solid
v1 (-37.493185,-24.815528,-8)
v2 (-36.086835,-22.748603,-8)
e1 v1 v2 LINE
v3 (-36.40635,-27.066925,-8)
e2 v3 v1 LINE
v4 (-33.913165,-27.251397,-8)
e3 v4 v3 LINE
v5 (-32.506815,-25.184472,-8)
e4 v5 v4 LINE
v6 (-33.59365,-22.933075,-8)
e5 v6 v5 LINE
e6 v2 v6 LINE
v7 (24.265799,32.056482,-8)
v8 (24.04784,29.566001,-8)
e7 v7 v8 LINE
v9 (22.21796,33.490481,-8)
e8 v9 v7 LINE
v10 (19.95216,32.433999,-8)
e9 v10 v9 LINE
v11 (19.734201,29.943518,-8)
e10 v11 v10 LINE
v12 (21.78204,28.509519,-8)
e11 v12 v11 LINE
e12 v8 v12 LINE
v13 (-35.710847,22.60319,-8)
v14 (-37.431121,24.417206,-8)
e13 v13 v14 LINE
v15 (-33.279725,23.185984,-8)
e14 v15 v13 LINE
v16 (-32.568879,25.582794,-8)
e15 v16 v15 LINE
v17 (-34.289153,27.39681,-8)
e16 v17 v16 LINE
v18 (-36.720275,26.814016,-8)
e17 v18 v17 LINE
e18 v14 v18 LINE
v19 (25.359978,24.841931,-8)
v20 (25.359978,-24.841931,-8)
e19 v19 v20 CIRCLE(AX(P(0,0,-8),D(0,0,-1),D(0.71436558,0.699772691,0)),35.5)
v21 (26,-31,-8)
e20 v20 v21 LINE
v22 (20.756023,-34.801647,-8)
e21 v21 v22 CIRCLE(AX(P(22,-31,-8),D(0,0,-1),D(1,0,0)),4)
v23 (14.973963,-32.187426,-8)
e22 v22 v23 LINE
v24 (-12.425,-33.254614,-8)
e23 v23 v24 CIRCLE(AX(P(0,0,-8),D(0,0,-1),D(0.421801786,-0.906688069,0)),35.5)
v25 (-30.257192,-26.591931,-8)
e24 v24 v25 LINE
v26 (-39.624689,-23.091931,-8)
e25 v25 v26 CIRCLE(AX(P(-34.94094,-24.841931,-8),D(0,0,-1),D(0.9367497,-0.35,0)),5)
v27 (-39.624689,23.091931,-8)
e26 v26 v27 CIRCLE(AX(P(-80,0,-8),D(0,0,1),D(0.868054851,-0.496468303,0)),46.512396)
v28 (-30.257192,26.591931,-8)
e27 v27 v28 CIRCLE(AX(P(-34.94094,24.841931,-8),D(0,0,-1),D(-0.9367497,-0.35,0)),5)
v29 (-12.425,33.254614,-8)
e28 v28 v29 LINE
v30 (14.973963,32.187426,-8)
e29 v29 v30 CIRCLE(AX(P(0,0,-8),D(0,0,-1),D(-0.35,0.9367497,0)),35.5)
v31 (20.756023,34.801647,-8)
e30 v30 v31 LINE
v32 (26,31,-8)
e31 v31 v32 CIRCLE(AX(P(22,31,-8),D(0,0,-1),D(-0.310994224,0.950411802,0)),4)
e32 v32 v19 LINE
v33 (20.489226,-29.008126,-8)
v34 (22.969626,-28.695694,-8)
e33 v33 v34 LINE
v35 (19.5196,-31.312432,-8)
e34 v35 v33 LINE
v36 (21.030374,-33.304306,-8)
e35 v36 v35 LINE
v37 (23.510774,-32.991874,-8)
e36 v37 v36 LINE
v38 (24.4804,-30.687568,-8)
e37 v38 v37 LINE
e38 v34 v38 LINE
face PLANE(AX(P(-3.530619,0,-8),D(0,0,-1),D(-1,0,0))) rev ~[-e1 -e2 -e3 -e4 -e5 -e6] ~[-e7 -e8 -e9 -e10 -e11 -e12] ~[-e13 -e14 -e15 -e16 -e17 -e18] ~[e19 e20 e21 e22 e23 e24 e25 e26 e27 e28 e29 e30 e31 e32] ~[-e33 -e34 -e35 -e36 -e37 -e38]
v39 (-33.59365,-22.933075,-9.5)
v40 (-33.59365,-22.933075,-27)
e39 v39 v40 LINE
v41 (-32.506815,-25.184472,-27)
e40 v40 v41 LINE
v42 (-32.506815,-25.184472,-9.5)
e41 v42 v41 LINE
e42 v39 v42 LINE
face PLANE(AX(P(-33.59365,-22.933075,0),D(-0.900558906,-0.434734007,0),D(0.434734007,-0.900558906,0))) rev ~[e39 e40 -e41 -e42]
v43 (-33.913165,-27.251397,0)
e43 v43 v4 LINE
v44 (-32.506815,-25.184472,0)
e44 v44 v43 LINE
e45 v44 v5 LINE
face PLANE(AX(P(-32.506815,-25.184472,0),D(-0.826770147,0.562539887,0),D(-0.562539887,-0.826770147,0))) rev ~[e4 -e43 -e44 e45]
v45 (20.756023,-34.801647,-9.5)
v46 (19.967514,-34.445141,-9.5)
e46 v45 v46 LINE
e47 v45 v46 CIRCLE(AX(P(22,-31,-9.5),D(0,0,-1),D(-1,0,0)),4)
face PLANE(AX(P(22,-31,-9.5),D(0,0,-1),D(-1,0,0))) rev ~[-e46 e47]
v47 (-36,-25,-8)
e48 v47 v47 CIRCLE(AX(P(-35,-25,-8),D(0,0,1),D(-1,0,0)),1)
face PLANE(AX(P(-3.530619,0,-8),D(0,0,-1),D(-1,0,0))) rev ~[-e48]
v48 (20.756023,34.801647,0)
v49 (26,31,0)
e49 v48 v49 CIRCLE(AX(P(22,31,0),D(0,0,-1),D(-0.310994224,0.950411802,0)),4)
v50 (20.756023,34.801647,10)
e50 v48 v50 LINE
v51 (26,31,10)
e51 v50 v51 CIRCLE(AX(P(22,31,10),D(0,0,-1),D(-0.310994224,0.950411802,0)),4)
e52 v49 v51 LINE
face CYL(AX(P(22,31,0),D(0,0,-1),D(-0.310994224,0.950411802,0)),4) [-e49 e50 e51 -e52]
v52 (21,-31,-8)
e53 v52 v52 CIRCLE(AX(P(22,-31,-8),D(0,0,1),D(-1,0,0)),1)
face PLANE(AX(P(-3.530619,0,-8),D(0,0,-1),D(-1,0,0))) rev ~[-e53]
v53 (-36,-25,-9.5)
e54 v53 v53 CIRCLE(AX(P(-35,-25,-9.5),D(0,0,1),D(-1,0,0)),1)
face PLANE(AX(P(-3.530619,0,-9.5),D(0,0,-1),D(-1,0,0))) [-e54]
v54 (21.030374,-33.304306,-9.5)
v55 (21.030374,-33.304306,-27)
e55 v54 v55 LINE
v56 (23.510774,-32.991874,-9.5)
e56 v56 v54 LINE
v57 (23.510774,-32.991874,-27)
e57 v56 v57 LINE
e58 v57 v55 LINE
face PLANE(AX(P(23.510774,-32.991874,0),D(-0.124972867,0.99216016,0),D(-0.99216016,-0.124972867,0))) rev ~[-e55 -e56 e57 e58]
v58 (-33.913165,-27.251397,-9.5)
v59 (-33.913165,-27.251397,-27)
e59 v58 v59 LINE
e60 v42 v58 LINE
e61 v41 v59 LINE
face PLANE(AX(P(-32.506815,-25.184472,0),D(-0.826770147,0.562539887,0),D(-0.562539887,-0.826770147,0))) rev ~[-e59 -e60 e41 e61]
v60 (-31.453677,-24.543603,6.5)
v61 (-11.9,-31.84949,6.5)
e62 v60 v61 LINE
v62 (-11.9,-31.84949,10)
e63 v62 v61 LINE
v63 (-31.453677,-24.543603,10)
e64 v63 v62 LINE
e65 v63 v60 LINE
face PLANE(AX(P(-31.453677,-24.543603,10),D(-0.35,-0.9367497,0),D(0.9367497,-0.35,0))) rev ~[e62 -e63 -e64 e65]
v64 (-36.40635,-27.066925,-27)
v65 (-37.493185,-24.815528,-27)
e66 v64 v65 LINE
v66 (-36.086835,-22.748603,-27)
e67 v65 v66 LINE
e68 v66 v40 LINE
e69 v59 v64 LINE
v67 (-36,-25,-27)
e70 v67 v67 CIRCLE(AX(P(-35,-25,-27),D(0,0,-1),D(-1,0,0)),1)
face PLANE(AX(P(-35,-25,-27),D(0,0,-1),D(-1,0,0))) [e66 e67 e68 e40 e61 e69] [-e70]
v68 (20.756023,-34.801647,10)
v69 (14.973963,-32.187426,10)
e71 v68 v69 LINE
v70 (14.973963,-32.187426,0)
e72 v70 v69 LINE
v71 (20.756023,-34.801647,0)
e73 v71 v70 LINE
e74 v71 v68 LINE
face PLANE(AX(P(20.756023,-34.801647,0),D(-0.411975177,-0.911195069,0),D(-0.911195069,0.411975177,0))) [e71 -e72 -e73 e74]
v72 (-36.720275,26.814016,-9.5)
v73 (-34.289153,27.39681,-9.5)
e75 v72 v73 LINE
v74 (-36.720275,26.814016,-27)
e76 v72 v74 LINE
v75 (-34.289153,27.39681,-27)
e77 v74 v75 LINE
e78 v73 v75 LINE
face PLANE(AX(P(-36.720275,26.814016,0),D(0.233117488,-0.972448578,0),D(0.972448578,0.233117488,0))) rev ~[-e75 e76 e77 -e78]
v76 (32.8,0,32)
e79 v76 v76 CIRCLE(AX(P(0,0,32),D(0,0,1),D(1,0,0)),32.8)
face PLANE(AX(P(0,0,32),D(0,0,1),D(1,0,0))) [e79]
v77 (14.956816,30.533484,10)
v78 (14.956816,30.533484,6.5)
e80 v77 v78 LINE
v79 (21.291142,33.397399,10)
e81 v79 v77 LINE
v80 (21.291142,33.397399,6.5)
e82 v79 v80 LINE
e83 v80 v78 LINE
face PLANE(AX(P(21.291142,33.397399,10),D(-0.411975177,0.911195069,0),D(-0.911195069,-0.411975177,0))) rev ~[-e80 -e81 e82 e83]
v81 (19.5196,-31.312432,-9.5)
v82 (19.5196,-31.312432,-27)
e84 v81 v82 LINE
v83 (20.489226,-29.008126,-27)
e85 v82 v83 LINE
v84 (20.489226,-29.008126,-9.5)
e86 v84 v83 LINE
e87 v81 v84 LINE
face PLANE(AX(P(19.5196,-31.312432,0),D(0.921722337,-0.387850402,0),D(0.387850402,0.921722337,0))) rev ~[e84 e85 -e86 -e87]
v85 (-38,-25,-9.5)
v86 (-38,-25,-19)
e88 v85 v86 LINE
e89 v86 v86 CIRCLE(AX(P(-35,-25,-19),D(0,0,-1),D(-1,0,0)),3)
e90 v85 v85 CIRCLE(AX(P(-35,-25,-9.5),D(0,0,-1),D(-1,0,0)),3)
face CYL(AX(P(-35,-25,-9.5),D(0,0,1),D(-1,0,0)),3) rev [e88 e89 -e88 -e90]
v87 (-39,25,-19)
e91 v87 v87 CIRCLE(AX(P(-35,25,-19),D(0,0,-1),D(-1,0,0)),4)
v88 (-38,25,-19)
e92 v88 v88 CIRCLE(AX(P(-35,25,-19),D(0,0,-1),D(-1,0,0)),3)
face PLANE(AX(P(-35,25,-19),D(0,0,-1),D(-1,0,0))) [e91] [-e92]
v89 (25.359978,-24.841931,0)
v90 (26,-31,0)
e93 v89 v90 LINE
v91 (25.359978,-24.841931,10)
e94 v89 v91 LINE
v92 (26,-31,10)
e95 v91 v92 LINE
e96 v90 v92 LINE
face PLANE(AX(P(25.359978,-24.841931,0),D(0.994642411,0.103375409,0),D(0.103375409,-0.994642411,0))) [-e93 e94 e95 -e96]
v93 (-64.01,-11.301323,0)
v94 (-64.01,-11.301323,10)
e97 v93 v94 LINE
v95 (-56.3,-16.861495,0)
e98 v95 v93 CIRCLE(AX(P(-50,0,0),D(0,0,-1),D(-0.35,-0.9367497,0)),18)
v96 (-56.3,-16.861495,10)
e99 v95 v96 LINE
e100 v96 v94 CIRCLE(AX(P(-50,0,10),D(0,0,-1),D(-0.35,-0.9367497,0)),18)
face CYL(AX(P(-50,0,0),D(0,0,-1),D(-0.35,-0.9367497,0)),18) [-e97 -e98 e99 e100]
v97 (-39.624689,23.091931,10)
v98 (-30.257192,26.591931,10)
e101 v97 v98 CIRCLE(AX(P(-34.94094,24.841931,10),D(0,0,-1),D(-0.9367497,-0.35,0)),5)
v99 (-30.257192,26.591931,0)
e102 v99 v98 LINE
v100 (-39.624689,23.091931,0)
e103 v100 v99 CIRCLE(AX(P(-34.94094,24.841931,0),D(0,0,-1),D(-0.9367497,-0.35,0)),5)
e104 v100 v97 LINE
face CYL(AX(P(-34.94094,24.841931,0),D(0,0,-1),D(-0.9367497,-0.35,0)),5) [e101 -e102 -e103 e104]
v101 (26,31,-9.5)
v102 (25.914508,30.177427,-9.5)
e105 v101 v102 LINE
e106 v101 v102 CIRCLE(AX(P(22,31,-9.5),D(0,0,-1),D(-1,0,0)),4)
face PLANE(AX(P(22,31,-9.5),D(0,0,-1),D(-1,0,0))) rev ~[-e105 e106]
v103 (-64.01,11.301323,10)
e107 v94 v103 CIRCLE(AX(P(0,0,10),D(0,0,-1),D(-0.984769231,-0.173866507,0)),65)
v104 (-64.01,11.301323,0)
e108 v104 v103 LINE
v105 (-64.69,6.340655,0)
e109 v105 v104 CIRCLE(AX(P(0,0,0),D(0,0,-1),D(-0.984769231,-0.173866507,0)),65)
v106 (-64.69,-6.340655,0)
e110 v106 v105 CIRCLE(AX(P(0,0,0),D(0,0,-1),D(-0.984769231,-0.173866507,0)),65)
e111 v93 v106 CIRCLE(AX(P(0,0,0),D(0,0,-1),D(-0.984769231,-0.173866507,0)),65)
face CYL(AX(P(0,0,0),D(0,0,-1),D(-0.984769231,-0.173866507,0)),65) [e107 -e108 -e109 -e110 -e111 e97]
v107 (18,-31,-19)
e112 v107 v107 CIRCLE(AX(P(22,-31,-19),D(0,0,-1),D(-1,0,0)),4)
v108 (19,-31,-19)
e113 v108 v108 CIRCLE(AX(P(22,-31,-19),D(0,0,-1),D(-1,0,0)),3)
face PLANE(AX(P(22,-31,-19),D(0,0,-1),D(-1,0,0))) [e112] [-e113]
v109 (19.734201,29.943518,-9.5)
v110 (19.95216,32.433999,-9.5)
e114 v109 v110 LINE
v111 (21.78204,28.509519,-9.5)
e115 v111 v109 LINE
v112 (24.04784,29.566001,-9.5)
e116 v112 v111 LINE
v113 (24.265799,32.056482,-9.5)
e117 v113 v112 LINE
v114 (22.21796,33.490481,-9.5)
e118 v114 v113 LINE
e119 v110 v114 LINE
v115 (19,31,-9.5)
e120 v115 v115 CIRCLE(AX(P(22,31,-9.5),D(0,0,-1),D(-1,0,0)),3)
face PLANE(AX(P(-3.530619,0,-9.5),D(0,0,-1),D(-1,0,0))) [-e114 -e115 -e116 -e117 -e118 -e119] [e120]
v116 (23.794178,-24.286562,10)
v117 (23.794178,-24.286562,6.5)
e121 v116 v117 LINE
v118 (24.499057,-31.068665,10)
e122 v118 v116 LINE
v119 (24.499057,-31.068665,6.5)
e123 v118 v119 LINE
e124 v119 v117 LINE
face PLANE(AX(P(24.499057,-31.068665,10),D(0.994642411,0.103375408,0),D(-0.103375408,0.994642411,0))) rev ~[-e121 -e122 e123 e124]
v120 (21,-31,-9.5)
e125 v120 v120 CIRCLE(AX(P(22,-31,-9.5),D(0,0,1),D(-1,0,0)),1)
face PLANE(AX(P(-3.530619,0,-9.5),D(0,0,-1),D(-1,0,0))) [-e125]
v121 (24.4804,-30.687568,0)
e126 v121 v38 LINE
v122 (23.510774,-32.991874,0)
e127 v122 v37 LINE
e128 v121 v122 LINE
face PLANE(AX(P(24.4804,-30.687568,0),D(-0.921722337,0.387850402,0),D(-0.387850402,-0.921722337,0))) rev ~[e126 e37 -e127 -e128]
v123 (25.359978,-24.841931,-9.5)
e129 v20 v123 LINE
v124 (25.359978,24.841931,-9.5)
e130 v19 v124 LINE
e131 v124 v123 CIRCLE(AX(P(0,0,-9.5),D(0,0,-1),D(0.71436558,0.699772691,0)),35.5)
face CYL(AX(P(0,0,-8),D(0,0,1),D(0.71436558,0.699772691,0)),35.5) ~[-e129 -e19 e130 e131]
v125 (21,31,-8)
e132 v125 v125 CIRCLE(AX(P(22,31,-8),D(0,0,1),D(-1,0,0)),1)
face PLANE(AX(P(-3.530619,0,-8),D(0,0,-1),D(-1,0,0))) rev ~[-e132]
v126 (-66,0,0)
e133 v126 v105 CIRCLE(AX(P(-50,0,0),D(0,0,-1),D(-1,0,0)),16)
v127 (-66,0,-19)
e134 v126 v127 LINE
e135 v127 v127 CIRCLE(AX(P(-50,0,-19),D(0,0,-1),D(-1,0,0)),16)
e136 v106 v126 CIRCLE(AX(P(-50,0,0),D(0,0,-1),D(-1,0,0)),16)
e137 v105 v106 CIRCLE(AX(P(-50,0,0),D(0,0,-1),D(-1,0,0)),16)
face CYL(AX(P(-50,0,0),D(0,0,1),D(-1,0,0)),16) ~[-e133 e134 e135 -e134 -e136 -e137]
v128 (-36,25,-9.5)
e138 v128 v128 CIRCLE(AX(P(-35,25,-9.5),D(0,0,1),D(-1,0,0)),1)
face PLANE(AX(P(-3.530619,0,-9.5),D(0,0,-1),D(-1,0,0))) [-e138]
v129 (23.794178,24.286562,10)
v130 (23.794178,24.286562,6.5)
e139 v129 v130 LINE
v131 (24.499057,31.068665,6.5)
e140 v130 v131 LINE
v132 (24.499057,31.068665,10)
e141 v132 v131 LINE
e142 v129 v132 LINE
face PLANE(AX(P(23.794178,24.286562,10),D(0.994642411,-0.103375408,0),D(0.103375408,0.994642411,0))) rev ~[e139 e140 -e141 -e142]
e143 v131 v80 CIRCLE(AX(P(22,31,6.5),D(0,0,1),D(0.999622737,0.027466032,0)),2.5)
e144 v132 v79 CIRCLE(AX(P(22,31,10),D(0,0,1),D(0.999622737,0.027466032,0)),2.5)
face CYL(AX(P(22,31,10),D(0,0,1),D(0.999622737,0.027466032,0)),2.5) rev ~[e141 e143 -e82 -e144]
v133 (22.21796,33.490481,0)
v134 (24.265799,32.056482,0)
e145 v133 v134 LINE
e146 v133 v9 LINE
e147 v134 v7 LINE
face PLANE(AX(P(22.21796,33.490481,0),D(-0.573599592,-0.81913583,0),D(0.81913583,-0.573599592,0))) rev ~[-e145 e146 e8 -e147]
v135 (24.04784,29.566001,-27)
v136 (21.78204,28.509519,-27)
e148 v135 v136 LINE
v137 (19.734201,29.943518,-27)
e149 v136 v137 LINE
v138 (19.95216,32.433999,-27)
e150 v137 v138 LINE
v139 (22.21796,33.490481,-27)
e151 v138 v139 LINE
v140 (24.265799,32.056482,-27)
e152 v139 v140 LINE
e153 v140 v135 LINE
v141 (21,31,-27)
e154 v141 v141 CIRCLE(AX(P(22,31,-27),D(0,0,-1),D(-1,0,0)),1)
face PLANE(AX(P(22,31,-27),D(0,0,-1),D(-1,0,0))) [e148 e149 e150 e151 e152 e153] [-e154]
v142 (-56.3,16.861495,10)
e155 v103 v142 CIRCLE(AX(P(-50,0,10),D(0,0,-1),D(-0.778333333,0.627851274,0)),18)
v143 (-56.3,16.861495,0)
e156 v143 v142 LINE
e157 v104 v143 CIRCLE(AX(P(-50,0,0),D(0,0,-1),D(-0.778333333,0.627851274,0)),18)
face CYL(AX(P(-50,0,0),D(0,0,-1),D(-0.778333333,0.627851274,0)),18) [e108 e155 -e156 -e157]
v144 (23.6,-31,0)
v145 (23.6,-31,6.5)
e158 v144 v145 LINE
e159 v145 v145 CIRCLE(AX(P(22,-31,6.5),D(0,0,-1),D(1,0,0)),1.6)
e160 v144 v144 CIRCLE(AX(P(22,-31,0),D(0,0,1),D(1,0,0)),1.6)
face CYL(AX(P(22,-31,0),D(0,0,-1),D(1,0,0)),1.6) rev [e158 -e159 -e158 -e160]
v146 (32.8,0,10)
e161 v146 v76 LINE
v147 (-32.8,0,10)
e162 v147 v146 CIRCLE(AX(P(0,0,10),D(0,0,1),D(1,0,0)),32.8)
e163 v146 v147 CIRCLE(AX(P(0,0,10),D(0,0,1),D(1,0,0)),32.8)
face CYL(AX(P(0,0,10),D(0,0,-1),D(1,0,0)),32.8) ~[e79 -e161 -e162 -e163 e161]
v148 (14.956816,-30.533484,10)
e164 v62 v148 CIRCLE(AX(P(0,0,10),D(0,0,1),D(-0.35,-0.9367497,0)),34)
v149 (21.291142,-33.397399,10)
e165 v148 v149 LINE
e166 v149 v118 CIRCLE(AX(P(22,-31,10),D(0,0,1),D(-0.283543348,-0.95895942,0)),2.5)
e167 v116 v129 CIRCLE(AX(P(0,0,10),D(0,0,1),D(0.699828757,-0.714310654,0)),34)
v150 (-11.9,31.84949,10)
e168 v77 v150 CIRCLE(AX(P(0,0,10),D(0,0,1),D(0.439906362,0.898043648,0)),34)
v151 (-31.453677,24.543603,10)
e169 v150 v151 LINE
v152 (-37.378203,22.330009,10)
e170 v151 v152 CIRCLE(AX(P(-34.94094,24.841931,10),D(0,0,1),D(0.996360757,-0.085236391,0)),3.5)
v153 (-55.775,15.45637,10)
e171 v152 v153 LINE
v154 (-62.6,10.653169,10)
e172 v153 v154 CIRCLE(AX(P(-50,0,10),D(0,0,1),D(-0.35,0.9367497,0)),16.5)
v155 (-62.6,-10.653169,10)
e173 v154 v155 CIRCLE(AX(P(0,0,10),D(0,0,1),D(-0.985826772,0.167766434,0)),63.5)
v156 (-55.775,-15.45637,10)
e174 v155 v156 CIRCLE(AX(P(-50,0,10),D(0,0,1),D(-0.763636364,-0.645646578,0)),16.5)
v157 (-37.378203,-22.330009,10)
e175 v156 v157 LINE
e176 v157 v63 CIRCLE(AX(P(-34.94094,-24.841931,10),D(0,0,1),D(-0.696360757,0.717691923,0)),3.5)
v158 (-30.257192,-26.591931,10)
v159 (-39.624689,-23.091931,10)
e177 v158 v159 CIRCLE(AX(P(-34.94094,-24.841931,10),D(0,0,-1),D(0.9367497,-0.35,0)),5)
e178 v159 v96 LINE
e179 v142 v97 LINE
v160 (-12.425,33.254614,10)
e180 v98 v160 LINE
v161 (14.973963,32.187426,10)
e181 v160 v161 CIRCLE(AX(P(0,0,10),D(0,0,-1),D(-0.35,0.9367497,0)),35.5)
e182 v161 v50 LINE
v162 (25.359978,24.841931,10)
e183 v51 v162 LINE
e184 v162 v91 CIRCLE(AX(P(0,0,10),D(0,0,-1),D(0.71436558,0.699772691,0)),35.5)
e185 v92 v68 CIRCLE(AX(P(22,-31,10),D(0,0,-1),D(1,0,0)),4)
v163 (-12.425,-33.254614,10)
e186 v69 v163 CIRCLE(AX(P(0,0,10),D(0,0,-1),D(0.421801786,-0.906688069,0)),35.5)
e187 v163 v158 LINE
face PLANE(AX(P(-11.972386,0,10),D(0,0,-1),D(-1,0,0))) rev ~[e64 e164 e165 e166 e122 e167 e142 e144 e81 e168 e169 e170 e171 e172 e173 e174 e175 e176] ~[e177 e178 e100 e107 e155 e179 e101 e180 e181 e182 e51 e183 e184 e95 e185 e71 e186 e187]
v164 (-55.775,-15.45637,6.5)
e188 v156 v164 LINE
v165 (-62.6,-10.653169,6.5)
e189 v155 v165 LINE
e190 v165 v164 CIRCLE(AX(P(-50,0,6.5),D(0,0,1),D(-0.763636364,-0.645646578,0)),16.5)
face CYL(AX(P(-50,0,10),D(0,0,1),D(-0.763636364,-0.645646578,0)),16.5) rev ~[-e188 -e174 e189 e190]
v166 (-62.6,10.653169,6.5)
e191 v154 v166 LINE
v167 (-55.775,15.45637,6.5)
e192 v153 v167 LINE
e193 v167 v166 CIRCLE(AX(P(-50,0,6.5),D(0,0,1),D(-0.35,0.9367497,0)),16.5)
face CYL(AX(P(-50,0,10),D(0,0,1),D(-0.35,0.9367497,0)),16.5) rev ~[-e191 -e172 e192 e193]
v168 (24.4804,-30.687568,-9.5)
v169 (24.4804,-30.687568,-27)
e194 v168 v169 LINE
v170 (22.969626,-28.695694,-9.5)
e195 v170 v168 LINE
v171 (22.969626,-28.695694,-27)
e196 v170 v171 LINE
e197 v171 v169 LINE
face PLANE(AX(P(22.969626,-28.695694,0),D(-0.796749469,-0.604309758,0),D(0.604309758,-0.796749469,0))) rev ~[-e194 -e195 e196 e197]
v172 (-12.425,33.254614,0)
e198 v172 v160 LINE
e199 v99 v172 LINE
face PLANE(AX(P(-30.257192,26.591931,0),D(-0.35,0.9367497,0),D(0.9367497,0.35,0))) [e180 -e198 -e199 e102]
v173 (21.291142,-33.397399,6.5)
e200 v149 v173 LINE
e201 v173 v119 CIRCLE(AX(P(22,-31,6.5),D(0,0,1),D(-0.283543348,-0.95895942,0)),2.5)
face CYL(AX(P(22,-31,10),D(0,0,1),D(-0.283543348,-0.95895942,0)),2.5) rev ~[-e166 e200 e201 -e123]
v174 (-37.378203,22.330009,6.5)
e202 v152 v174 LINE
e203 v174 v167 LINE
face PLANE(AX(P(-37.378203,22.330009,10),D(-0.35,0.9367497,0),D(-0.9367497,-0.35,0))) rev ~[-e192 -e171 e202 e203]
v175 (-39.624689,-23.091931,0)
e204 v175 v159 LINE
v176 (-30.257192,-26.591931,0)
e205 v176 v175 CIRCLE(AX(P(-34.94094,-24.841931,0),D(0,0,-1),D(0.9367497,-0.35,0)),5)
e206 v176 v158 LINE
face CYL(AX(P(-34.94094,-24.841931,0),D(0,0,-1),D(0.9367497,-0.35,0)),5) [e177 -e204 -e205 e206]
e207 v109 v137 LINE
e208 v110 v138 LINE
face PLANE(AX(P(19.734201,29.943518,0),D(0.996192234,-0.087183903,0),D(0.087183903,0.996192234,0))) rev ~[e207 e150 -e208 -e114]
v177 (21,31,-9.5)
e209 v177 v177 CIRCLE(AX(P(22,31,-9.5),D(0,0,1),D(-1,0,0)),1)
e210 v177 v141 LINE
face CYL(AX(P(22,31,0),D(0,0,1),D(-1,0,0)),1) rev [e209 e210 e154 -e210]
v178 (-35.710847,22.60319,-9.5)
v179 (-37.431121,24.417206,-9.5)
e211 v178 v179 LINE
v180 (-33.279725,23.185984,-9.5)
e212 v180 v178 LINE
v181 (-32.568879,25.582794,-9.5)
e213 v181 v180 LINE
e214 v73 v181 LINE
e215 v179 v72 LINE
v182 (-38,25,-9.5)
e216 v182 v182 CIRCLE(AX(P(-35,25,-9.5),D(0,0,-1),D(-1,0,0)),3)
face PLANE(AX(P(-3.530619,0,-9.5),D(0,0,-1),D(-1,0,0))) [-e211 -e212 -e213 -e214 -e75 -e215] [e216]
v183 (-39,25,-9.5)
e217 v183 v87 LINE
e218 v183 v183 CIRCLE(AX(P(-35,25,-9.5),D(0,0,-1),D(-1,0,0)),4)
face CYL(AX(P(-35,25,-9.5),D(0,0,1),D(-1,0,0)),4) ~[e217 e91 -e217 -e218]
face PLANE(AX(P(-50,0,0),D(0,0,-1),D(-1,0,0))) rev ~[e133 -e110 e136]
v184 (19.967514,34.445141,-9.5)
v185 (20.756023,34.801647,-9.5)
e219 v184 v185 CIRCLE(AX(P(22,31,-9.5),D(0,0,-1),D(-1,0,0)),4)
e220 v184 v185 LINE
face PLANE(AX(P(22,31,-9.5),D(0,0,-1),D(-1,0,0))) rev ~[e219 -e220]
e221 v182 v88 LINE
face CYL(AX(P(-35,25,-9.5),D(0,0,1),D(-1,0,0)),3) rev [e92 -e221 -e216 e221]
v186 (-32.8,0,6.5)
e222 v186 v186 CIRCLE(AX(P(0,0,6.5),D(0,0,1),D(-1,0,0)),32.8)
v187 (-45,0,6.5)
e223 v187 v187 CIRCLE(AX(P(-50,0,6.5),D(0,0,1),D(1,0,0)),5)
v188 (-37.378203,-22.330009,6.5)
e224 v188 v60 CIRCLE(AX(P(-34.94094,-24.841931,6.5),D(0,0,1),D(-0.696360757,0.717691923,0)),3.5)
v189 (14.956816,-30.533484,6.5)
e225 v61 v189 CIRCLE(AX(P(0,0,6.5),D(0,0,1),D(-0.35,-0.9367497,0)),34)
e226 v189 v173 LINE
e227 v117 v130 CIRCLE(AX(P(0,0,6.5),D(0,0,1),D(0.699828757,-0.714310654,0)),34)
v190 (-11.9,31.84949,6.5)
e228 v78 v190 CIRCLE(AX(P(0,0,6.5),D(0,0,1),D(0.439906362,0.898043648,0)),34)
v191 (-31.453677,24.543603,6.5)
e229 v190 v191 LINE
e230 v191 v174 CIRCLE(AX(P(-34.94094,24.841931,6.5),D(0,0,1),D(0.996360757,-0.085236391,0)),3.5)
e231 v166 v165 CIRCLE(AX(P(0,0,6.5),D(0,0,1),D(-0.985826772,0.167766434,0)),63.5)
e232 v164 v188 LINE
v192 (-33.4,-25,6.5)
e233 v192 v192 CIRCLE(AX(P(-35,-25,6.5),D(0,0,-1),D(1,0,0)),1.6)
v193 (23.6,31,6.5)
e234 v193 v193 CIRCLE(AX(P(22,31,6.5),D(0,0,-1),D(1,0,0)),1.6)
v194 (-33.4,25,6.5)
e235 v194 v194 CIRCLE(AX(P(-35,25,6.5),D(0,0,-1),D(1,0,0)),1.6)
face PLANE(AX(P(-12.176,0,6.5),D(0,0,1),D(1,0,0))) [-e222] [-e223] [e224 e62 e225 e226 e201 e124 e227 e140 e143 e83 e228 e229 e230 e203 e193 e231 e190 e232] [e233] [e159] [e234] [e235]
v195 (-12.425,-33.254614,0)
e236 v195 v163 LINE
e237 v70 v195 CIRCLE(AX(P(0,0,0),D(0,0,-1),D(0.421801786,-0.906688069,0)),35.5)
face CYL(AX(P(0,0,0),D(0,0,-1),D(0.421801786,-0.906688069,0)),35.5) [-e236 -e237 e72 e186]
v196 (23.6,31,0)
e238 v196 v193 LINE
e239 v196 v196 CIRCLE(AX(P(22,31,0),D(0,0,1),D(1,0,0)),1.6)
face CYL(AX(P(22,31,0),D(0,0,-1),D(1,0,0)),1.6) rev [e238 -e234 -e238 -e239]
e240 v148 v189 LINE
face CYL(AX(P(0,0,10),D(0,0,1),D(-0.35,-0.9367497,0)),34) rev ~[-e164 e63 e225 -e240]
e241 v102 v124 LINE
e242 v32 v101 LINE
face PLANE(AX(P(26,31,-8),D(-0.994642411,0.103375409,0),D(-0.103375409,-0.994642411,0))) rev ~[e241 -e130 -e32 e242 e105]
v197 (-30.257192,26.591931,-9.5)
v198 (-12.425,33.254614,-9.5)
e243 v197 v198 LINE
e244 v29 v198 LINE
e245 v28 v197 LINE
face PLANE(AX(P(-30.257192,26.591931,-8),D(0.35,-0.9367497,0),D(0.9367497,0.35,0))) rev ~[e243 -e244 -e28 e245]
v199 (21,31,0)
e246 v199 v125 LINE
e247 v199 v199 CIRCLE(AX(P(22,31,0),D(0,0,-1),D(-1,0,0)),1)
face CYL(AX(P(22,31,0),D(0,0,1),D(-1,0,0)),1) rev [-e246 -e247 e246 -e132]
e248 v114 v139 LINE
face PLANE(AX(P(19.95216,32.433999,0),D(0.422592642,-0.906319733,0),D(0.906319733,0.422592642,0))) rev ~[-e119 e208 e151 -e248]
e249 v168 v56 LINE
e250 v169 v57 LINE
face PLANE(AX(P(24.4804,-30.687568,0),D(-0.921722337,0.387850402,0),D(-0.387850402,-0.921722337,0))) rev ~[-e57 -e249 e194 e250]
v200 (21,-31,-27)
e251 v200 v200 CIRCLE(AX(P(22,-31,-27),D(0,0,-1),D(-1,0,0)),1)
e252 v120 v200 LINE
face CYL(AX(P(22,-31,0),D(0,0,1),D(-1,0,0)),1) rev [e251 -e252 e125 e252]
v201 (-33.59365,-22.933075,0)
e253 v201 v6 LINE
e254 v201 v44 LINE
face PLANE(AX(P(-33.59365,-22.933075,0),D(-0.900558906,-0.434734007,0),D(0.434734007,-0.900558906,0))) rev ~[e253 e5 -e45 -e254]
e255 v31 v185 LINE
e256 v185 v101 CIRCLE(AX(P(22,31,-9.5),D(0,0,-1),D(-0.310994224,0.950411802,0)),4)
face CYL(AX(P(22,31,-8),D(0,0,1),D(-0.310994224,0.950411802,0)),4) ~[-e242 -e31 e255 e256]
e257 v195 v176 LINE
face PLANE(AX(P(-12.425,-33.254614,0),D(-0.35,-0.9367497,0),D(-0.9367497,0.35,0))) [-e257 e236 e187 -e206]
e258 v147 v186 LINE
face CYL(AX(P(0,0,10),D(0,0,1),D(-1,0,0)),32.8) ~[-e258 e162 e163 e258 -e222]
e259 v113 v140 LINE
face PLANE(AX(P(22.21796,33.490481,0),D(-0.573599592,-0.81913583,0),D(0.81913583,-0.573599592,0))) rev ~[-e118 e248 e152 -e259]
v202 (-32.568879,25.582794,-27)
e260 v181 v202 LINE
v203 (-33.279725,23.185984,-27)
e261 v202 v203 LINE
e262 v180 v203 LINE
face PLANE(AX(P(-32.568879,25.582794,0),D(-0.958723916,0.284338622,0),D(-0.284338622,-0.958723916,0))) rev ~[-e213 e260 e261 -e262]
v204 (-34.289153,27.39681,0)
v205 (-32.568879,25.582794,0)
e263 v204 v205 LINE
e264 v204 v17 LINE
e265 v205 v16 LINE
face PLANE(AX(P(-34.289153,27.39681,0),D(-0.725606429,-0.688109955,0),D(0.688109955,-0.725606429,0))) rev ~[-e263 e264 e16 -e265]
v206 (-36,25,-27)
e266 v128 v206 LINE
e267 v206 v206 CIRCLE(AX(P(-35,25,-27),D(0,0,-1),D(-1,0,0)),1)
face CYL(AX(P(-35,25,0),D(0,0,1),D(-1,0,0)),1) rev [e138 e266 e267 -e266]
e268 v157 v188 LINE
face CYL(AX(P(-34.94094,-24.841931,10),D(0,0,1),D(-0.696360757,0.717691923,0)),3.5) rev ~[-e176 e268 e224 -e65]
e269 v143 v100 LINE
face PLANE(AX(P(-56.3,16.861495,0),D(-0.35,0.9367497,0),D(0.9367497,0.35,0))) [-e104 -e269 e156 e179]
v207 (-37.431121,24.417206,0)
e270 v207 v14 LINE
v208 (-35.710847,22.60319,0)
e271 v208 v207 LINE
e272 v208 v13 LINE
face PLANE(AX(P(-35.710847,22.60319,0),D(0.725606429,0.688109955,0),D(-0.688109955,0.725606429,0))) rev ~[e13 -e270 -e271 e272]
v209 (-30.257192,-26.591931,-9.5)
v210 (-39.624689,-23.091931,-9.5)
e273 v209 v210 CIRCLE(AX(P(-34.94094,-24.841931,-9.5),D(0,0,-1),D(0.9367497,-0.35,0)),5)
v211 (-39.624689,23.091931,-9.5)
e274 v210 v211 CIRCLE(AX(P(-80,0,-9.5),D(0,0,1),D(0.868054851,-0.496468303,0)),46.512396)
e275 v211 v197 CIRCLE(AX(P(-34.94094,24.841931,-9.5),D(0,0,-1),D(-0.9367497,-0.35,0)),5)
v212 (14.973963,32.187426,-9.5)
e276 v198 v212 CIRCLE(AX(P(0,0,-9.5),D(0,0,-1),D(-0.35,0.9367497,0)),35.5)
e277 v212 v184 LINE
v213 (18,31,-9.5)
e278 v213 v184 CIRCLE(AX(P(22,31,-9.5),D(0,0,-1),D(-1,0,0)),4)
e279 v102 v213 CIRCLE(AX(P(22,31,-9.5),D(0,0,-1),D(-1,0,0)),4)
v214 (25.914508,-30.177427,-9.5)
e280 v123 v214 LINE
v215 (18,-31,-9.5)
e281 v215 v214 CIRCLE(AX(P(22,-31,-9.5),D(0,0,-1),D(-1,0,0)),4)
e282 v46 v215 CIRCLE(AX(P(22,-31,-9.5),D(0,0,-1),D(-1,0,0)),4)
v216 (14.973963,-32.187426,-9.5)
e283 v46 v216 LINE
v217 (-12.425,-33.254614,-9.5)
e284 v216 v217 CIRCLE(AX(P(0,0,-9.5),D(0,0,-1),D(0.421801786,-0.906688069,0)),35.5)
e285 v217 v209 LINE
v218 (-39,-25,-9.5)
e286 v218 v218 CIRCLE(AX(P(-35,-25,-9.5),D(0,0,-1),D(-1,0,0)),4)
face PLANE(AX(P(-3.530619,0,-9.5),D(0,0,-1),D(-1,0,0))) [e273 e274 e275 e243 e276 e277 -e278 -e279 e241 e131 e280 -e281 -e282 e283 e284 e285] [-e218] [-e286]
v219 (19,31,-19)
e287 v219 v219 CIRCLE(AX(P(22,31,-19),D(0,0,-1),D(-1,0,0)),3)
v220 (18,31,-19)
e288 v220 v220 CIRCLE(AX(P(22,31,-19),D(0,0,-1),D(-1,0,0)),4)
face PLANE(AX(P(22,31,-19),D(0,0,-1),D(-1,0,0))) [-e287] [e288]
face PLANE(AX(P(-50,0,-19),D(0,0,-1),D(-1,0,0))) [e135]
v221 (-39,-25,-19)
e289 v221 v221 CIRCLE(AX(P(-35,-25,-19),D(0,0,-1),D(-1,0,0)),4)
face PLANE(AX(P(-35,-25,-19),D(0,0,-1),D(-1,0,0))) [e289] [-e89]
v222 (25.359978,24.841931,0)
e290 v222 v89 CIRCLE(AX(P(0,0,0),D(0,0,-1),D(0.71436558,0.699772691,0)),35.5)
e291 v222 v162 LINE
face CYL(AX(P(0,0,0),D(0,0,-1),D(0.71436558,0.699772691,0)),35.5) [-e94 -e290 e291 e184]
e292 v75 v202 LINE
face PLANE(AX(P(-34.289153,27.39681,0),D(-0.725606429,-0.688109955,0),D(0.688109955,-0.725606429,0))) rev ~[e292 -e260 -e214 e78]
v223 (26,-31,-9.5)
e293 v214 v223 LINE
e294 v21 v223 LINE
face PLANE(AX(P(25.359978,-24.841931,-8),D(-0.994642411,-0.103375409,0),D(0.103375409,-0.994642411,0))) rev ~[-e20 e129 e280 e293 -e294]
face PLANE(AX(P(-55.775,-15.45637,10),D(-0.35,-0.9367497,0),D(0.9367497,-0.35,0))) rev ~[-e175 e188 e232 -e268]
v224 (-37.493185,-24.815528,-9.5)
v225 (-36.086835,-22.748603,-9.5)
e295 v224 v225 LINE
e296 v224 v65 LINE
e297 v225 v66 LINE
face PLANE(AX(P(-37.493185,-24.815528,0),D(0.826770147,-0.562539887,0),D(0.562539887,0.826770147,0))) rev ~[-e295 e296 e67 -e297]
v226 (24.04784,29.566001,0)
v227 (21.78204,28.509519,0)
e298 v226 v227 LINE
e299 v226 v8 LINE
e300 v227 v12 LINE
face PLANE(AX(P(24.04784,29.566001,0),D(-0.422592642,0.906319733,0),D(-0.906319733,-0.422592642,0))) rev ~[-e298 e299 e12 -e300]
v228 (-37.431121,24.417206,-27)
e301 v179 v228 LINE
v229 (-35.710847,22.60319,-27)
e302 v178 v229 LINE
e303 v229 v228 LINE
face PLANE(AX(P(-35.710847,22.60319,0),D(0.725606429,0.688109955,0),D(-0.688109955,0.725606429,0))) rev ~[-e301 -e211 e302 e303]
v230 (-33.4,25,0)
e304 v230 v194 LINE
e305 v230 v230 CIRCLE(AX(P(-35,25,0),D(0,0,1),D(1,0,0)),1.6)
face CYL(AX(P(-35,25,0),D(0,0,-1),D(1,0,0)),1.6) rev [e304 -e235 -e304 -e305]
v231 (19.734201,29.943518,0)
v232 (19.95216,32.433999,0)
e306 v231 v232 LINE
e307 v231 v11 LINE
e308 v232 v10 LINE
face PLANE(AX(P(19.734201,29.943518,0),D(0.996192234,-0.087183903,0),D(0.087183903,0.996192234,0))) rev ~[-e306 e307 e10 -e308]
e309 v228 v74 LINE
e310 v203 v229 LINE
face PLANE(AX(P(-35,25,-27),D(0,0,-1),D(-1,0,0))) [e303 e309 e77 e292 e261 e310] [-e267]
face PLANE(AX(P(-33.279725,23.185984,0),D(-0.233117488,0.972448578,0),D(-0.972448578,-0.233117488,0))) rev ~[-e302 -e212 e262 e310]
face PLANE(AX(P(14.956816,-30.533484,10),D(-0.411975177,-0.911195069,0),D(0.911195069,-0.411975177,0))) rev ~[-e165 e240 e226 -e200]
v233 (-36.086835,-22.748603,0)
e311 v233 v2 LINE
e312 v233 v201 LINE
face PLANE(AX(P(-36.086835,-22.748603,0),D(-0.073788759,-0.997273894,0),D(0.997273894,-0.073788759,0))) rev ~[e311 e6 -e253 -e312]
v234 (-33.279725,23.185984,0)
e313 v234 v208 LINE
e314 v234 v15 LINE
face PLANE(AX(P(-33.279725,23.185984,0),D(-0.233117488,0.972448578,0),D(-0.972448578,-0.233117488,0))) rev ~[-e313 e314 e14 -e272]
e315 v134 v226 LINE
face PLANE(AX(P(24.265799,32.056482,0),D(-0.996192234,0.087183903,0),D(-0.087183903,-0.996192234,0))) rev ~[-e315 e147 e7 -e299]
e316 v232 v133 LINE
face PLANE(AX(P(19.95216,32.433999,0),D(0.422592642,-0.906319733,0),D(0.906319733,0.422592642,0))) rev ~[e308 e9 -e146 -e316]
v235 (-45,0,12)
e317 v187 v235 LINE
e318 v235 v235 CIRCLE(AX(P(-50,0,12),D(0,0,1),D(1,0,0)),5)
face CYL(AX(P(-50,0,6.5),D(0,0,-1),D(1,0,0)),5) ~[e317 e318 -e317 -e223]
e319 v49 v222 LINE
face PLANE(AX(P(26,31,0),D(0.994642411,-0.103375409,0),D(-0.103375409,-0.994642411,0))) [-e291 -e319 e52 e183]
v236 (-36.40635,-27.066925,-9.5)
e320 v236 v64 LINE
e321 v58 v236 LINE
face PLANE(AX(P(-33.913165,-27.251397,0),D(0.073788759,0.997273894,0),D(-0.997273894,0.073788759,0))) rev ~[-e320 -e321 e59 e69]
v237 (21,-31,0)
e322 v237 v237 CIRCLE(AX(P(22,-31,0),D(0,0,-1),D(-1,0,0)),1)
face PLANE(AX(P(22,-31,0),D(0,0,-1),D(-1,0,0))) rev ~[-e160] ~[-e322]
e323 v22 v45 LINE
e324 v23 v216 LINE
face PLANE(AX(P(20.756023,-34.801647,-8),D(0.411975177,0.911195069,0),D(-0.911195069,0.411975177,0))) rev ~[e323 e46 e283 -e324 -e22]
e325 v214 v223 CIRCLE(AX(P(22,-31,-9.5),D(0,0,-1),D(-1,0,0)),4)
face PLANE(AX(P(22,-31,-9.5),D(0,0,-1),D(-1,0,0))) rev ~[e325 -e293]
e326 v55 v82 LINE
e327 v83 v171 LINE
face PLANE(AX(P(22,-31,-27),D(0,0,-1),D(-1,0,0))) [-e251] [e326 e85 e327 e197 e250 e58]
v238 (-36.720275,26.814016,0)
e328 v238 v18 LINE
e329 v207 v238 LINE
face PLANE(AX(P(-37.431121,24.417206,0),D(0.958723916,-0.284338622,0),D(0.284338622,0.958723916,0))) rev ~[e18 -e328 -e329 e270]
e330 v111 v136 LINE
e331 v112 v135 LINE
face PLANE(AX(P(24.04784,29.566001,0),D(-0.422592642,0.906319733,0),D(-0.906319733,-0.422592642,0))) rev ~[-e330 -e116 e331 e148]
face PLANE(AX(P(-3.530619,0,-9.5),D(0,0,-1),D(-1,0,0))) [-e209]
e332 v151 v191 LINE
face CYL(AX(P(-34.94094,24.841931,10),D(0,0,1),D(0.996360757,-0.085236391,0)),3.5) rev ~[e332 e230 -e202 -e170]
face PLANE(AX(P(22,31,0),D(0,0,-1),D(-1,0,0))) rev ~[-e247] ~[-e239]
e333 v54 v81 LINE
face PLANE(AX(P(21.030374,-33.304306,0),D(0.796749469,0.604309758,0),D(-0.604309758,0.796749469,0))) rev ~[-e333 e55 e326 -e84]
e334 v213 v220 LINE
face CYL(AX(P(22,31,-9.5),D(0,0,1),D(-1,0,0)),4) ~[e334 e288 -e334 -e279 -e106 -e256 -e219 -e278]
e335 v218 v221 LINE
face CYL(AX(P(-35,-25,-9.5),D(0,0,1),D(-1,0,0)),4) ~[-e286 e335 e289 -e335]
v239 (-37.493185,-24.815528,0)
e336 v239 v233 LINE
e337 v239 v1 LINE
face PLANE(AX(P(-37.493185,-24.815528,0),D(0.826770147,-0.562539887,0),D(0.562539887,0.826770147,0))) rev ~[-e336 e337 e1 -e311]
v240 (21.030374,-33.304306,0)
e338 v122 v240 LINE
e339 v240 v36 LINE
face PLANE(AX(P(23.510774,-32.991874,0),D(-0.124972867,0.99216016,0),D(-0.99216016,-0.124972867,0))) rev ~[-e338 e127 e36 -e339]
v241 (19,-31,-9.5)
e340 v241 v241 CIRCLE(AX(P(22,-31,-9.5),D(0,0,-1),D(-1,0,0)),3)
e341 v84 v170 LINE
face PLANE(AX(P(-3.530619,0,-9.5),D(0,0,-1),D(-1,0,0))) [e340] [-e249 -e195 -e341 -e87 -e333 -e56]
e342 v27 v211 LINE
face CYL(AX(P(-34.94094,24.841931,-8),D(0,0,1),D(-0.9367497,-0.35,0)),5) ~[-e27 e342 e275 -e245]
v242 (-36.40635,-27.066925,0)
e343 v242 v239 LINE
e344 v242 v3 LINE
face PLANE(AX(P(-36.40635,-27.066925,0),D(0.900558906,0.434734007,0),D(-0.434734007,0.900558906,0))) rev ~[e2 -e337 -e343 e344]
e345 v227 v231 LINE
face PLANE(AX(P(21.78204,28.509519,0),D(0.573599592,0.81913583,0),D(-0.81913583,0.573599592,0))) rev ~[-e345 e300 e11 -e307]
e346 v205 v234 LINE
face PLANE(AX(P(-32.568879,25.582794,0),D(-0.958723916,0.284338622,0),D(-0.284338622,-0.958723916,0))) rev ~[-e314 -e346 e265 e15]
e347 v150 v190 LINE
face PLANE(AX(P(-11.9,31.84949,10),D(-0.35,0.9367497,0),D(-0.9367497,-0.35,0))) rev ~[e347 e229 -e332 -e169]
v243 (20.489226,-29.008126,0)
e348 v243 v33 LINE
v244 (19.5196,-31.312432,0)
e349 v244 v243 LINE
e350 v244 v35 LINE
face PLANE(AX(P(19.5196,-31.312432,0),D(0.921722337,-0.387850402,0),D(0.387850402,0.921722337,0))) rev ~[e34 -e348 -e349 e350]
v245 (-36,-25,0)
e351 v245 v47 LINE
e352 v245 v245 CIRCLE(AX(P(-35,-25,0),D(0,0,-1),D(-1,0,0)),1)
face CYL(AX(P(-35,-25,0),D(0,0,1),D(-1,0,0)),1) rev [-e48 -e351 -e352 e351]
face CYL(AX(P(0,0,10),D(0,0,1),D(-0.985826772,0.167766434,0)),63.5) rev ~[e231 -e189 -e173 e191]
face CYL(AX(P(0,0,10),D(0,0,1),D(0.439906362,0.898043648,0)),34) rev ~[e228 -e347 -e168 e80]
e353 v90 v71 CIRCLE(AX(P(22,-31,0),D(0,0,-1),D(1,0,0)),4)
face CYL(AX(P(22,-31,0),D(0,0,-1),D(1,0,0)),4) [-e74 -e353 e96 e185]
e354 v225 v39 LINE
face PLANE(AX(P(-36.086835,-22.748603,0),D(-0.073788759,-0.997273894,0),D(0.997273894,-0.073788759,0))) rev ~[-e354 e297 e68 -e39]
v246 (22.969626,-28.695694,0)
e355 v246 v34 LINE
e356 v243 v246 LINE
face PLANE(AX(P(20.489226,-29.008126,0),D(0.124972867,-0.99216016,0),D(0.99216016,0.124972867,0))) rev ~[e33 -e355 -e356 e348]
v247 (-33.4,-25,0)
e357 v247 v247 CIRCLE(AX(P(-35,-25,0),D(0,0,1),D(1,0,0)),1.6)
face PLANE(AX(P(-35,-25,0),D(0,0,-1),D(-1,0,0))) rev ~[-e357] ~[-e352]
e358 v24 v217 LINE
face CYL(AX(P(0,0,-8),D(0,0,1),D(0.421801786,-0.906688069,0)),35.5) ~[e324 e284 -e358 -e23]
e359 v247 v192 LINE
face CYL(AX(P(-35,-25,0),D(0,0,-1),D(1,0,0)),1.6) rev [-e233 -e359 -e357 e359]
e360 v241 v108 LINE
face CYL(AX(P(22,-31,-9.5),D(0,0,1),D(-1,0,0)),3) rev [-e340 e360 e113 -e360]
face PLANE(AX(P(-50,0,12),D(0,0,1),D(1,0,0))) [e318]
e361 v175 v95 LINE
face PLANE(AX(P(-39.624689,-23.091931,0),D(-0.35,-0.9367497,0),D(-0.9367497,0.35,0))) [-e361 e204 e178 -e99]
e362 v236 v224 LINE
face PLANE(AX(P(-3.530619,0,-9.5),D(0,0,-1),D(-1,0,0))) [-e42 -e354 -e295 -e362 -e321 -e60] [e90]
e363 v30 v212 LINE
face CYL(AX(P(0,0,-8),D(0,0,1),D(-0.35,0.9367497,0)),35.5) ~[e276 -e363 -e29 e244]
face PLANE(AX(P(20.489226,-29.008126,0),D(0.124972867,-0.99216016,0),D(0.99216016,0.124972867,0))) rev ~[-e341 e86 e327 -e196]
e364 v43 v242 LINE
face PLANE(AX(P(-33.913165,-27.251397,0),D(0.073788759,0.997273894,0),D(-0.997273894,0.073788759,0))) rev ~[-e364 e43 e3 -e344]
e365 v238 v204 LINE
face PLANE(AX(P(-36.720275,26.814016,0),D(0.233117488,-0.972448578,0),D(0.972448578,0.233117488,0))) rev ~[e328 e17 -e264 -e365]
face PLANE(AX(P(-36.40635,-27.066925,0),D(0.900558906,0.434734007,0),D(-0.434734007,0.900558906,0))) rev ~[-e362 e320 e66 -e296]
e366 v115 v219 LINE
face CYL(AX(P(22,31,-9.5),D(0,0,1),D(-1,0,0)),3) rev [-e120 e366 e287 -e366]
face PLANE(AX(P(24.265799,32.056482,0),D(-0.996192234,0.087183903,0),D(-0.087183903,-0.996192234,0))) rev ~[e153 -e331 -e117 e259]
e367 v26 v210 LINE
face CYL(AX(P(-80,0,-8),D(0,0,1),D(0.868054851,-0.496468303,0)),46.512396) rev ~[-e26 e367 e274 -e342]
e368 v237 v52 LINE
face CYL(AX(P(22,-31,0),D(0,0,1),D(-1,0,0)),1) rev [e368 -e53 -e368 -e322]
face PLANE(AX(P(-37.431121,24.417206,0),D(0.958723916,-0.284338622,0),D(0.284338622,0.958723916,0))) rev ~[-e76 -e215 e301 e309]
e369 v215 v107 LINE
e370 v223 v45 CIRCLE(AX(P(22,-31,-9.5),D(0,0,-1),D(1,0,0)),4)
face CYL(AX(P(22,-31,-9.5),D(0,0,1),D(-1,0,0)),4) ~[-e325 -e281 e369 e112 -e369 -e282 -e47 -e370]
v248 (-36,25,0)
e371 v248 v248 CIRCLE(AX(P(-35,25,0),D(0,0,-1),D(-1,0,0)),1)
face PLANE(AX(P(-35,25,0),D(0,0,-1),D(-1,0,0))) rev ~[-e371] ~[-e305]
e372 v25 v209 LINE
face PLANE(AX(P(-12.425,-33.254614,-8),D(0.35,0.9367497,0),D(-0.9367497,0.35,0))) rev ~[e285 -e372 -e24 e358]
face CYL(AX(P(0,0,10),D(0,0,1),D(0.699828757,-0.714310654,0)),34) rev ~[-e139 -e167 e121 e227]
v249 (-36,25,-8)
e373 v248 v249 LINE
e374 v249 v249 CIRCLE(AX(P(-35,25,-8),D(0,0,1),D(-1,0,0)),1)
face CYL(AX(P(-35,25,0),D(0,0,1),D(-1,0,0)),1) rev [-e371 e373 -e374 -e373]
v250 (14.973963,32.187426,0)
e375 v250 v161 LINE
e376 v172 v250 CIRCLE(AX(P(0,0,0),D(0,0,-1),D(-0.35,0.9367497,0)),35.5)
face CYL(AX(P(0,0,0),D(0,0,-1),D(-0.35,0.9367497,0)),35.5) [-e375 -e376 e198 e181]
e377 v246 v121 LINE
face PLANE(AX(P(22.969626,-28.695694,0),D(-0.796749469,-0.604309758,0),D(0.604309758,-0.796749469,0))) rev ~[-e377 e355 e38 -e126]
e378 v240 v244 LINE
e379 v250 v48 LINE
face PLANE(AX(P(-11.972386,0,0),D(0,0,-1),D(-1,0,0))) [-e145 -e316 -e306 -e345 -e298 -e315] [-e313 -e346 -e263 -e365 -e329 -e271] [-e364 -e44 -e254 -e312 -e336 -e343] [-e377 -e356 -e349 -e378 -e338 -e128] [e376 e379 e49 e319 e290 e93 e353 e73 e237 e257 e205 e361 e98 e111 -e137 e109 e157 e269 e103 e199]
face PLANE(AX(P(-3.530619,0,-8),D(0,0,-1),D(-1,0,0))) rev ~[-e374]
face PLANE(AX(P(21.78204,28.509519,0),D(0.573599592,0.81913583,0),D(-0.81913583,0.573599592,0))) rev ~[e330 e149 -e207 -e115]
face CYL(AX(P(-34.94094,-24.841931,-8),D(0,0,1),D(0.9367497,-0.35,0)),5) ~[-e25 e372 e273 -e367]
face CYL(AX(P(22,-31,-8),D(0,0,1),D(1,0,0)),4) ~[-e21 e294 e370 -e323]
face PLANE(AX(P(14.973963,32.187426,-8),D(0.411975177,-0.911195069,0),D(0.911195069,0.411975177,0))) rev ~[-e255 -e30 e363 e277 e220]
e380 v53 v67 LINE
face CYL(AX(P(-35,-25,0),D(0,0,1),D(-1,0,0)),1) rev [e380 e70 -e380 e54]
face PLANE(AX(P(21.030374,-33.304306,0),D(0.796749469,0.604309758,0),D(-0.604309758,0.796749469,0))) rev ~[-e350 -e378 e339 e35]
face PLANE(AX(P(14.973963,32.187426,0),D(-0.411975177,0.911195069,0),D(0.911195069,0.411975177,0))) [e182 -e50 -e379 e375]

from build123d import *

# Parameters (mm, degrees)
ESQUISSE1_R             = 1.6
BOSS_EXTRU_1_DEPTH      = 10
ESQUISSE2_R             = 32.8
BOSS_EXTRU_2_DEPTH      = 22
ENL_V_MAT_EXTRU_1_DEPTH = 3.5
BOSS_EXTRU_3_REACH      = 12
ESQUISSE4_R             = 32.8
ESQUISSE5_R             = 16
BOSS_EXTRU_4_DEPTH      = 19
ESQUISSE6_R             = 1
BOSS_EXTRU_5_DEPTH      = 27
BOSS_EXTRU_6_DEPTH      = 1.5
ESQUISSE8_R             = 5
BOSS_EXTRU_7_DEPTH      = 5.5
SKETCH2_R               = 4
SKETCH2_R_2             = 3
BOSS_EXTRUDE1_DEPTH     = 9.5


with BuildPart() as part:
    # Esquisse1 → Boss.-Extru.1 (new body)
    with BuildSketch(Plane.XY):
        with BuildLine():
            ThreePointArc((-56.3, -16.861494596), (-60.528670487, -14.599558136), (-64.01, -11.301322931))
            ThreePointArc((-64.01, -11.301322931), (-65, 0), (-64.01, 11.301322931))
            ThreePointArc((-64.01, 11.301322931), (-60.528670487, 14.599558136), (-56.3, 16.861494596))
            Line((-56.3, 16.861494596), (-39.624688626, 23.091930519))
            ThreePointArc((-39.624688626, 23.091930519), (-36.690940127, 29.525679018), (-30.257191628, 26.591930519))
            Line((-30.257191628, 26.591930519), (-12.425, 33.254614341))
            ThreePointArc((-12.425, 33.254614341), (1.381675102, 35.473102119), (14.973963383, 32.187426436))
            Line((14.973963383, 32.187426436), (20.756023105, 34.801647207))
            ThreePointArc((20.756023105, 34.801647207), (24.347774736, 34.238511045), (26, 31))
            Line((26, 31), (25.359978077, 24.841930519))
            ThreePointArc((25.359978077, 24.841930519), (35.5, 0), (25.359978077, -24.841930519))
            Line((25.359978077, -24.841930519), (26, -31))
            ThreePointArc((26, -31), (24.347774736, -34.238511045), (20.756023105, -34.801647207))
            Line((20.756023105, -34.801647207), (14.973963383, -32.187426436))
            ThreePointArc((14.973963383, -32.187426436), (1.381675102, -35.473102119), (-12.425, -33.254614341))
            Line((-12.425, -33.254614341), (-30.257191628, -26.591930519))
            ThreePointArc((-30.257191628, -26.591930519), (-36.690940127, -29.525679018), (-39.624688626, -23.091930519))
            Line((-39.624688626, -23.091930519), (-56.3, -16.861494596))
        make_face()
        with Locations((-35, -25)):
            Circle(ESQUISSE1_R, mode=Mode.SUBTRACT)
        with Locations((22, 31)):
            Circle(ESQUISSE1_R, mode=Mode.SUBTRACT)
        with Locations((-35, 25)):
            Circle(ESQUISSE1_R, mode=Mode.SUBTRACT)
        with Locations((22, -31)):
            Circle(ESQUISSE1_R, mode=Mode.SUBTRACT)
    extrude(amount=BOSS_EXTRU_1_DEPTH)

    # Esquisse2 → Boss.-Extru.2 (add)
    with BuildSketch(Plane.XY.offset(10)):
        Circle(ESQUISSE2_R)
    extrude(amount=BOSS_EXTRU_2_DEPTH)

    # Esquisse3 → Enlèv. mat.-Extru.1 (cut)
    with BuildSketch(Plane.XY.offset(10)):
        with BuildLine():
            Line((-55.775, -15.456370046), (-37.378202776, -22.330008789))
            ThreePointArc((-37.378202776, -22.330008789), (-36.165940127, -28.120554469), (-31.453677478, -24.543603151))
            Line((-31.453677478, -24.543603151), (-11.9, -31.849489792))
            ThreePointArc((-11.9, -31.849489792), (1.664031028, -33.959255009), (14.956816294, -30.533484019))
            Line((14.956816294, -30.533484019), (21.291141631, -33.397398551))
            ThreePointArc((21.291141631, -33.397398551), (23.468656713, -33.023128137), (24.499056843, -31.06866508))
            Line((24.499056843, -31.06866508), (23.79417774, -24.286562245))
            ThreePointArc((23.79417774, -24.286562245), (34, 0), (23.79417774, 24.286562245))
            Line((23.79417774, 24.286562245), (24.499056843, 31.06866508))
            ThreePointArc((24.499056843, 31.06866508), (23.468656713, 33.023128137), (21.291141631, 33.397398551))
            Line((21.291141631, 33.397398551), (14.956816294, 30.533484019))
            ThreePointArc((14.956816294, 30.533484019), (1.664031028, 33.959255009), (-11.9, 31.849489792))
            Line((-11.9, 31.849489792), (-31.453677478, 24.543603151))
            ThreePointArc((-31.453677478, 24.543603151), (-36.165940127, 28.120554469), (-37.378202776, 22.330008789))
            Line((-37.378202776, 22.330008789), (-55.775, 15.456370046))
            ThreePointArc((-55.775, 15.456370046), (-59.496201473, 13.493411636), (-62.6, 10.653168543))
            ThreePointArc((-62.6, 10.653168543), (-63.5, 0), (-62.6, -10.653168543))
            ThreePointArc((-62.6, -10.653168543), (-59.496201473, -13.493411636), (-55.775, -15.456370046))
        make_face()
    extrude(amount=-ENL_V_MAT_EXTRU_1_DEPTH, mode=Mode.SUBTRACT)

    # Esquisse4 → Boss.-Extru.3 (add, up to next)
    with BuildSketch(Plane(origin=(0, 0, 10), x_dir=(-1, 0, 0), z_dir=(0, 0, -1)), mode=Mode.PRIVATE) as boss_extru_3_sk1:
        Circle(ESQUISSE4_R)
    boss_extru_3_tool1 = extrude(boss_extru_3_sk1.sketch, amount=BOSS_EXTRU_3_REACH, mode=Mode.PRIVATE) - part.part
    add(boss_extru_3_tool1.solids().sort_by_distance((0, 0, 10))[0])

    # Esquisse5 → Boss.-Extru.4 (add)
    with BuildSketch(Plane(origin=(0, 0, 0), x_dir=(-1, 0, 0), z_dir=(0, 0, -1))):
        with Locations((50, 0)):
            Circle(ESQUISSE5_R)
    extrude(amount=BOSS_EXTRU_4_DEPTH)

    # Esquisse6 → Boss.-Extru.5 (add)
    with BuildSketch(Plane(origin=(0, 0, 0), x_dir=(-1, 0, 0), z_dir=(0, 0, -1))):
        Polygon((-20.489225606, -29.008126327), (-22.969626005, -28.695694159), (-24.480400399, -30.687567832), (-23.510774394, -32.991873673), (-21.030373995, -33.304305841), (-19.519599601, -31.312432168), align=None)
        with Locations((-22, -31)):
            Circle(ESQUISSE6_R, mode=Mode.SUBTRACT)
        Polygon((36.086835018, -22.748602735), (33.593650283, -22.933074633), (32.506815266, -25.184471898), (33.913164982, -27.251397265), (36.406349717, -27.066925367), (37.493184734, -24.815528102), align=None)
        with Locations((35, -25)):
            Circle(ESQUISSE6_R, mode=Mode.SUBTRACT)
        Polygon((36.720274889, 26.814016072), (34.289153443, 27.396809791), (32.568878555, 25.582793719), (33.279725111, 23.185983928), (35.710846557, 22.603190209), (37.431121445, 24.417206281), align=None)
        with Locations((35, 25)):
            Circle(ESQUISSE6_R, mode=Mode.SUBTRACT)
        Polygon((-19.952160425, 32.43399898), (-22.217959758, 33.490480585), (-24.265799333, 32.056481605), (-24.047839575, 29.56600102), (-21.782040242, 28.509519415), (-19.734200667, 29.943518395), align=None)
        with Locations((-22, 31)):
            Circle(ESQUISSE6_R, mode=Mode.SUBTRACT)
    extrude(amount=BOSS_EXTRU_5_DEPTH)

    # Esquisse7 → Boss.-Extru.6 (add)
    with BuildSketch(Plane(origin=(0, 0, -8), x_dir=(-1, 0, 0), z_dir=(0, 0, -1))):
        with BuildLine():
            Line((30.257191628, 26.591930519), (12.425, 33.254614341))
            ThreePointArc((12.425, 33.254614341), (-1.381675102, 35.473102119), (-14.973963383, 32.187426436))
            Line((-14.973963383, 32.187426436), (-20.756023105, 34.801647207))
            ThreePointArc((-20.756023105, 34.801647207), (-24.347774736, 34.238511045), (-26, 31))
            Line((-26, 31), (-25.359978077, 24.841930519))
            ThreePointArc((-25.359978077, 24.841930519), (-35.5, 0), (-25.359978077, -24.841930519))
            Line((-25.359978077, -24.841930519), (-26, -31))
            ThreePointArc((-26, -31), (-24.347774736, -34.238511045), (-20.756023105, -34.801647207))
            Line((-20.756023105, -34.801647207), (-14.973963383, -32.187426436))
            ThreePointArc((-14.973963383, -32.187426436), (-1.381675102, -35.473102119), (12.425, -33.254614341))
            Line((12.425, -33.254614341), (30.257191628, -26.591930519))
            ThreePointArc((30.257191628, -26.591930519), (36.690940127, -29.525679018), (39.624688626, -23.091930519))
            ThreePointArc((39.624688626, -23.091930519), (33.487603548, 0), (39.624688626, 23.091930519))
            ThreePointArc((39.624688626, 23.091930519), (36.690940127, 29.525679018), (30.257191628, 26.591930519))
        make_face()
    extrude(amount=BOSS_EXTRU_6_DEPTH)

    # Esquisse8 → Boss.-Extru.7 (add)
    with BuildSketch(Plane.XY.offset(6.5)):
        with Locations((-50, 0)):
            Circle(ESQUISSE8_R)
    extrude(amount=BOSS_EXTRU_7_DEPTH)

    # Sketch2 → Boss-Extrude1 (add)
    with BuildSketch(Plane(origin=(0, 0, -9.5), x_dir=(-1, 0, 0), z_dir=(0, 0, -1))):
        with Locations((-22, 31)):
            Circle(SKETCH2_R)
        with Locations((-22, 31)):
            Circle(SKETCH2_R_2, mode=Mode.SUBTRACT)
        with Locations((35, 25)):
            Circle(SKETCH2_R)
        with Locations((35, 25)):
            Circle(SKETCH2_R_2, mode=Mode.SUBTRACT)
        with Locations((-22, -31)):
            Circle(SKETCH2_R)
        with Locations((-22, -31)):
            Circle(SKETCH2_R_2, mode=Mode.SUBTRACT)
        with Locations((35, -25)):
            Circle(SKETCH2_R)
        with Locations((35, -25)):
            Circle(SKETCH2_R_2, mode=Mode.SUBTRACT)
    extrude(amount=BOSS_EXTRUDE1_DEPTH)


solid = part.part
